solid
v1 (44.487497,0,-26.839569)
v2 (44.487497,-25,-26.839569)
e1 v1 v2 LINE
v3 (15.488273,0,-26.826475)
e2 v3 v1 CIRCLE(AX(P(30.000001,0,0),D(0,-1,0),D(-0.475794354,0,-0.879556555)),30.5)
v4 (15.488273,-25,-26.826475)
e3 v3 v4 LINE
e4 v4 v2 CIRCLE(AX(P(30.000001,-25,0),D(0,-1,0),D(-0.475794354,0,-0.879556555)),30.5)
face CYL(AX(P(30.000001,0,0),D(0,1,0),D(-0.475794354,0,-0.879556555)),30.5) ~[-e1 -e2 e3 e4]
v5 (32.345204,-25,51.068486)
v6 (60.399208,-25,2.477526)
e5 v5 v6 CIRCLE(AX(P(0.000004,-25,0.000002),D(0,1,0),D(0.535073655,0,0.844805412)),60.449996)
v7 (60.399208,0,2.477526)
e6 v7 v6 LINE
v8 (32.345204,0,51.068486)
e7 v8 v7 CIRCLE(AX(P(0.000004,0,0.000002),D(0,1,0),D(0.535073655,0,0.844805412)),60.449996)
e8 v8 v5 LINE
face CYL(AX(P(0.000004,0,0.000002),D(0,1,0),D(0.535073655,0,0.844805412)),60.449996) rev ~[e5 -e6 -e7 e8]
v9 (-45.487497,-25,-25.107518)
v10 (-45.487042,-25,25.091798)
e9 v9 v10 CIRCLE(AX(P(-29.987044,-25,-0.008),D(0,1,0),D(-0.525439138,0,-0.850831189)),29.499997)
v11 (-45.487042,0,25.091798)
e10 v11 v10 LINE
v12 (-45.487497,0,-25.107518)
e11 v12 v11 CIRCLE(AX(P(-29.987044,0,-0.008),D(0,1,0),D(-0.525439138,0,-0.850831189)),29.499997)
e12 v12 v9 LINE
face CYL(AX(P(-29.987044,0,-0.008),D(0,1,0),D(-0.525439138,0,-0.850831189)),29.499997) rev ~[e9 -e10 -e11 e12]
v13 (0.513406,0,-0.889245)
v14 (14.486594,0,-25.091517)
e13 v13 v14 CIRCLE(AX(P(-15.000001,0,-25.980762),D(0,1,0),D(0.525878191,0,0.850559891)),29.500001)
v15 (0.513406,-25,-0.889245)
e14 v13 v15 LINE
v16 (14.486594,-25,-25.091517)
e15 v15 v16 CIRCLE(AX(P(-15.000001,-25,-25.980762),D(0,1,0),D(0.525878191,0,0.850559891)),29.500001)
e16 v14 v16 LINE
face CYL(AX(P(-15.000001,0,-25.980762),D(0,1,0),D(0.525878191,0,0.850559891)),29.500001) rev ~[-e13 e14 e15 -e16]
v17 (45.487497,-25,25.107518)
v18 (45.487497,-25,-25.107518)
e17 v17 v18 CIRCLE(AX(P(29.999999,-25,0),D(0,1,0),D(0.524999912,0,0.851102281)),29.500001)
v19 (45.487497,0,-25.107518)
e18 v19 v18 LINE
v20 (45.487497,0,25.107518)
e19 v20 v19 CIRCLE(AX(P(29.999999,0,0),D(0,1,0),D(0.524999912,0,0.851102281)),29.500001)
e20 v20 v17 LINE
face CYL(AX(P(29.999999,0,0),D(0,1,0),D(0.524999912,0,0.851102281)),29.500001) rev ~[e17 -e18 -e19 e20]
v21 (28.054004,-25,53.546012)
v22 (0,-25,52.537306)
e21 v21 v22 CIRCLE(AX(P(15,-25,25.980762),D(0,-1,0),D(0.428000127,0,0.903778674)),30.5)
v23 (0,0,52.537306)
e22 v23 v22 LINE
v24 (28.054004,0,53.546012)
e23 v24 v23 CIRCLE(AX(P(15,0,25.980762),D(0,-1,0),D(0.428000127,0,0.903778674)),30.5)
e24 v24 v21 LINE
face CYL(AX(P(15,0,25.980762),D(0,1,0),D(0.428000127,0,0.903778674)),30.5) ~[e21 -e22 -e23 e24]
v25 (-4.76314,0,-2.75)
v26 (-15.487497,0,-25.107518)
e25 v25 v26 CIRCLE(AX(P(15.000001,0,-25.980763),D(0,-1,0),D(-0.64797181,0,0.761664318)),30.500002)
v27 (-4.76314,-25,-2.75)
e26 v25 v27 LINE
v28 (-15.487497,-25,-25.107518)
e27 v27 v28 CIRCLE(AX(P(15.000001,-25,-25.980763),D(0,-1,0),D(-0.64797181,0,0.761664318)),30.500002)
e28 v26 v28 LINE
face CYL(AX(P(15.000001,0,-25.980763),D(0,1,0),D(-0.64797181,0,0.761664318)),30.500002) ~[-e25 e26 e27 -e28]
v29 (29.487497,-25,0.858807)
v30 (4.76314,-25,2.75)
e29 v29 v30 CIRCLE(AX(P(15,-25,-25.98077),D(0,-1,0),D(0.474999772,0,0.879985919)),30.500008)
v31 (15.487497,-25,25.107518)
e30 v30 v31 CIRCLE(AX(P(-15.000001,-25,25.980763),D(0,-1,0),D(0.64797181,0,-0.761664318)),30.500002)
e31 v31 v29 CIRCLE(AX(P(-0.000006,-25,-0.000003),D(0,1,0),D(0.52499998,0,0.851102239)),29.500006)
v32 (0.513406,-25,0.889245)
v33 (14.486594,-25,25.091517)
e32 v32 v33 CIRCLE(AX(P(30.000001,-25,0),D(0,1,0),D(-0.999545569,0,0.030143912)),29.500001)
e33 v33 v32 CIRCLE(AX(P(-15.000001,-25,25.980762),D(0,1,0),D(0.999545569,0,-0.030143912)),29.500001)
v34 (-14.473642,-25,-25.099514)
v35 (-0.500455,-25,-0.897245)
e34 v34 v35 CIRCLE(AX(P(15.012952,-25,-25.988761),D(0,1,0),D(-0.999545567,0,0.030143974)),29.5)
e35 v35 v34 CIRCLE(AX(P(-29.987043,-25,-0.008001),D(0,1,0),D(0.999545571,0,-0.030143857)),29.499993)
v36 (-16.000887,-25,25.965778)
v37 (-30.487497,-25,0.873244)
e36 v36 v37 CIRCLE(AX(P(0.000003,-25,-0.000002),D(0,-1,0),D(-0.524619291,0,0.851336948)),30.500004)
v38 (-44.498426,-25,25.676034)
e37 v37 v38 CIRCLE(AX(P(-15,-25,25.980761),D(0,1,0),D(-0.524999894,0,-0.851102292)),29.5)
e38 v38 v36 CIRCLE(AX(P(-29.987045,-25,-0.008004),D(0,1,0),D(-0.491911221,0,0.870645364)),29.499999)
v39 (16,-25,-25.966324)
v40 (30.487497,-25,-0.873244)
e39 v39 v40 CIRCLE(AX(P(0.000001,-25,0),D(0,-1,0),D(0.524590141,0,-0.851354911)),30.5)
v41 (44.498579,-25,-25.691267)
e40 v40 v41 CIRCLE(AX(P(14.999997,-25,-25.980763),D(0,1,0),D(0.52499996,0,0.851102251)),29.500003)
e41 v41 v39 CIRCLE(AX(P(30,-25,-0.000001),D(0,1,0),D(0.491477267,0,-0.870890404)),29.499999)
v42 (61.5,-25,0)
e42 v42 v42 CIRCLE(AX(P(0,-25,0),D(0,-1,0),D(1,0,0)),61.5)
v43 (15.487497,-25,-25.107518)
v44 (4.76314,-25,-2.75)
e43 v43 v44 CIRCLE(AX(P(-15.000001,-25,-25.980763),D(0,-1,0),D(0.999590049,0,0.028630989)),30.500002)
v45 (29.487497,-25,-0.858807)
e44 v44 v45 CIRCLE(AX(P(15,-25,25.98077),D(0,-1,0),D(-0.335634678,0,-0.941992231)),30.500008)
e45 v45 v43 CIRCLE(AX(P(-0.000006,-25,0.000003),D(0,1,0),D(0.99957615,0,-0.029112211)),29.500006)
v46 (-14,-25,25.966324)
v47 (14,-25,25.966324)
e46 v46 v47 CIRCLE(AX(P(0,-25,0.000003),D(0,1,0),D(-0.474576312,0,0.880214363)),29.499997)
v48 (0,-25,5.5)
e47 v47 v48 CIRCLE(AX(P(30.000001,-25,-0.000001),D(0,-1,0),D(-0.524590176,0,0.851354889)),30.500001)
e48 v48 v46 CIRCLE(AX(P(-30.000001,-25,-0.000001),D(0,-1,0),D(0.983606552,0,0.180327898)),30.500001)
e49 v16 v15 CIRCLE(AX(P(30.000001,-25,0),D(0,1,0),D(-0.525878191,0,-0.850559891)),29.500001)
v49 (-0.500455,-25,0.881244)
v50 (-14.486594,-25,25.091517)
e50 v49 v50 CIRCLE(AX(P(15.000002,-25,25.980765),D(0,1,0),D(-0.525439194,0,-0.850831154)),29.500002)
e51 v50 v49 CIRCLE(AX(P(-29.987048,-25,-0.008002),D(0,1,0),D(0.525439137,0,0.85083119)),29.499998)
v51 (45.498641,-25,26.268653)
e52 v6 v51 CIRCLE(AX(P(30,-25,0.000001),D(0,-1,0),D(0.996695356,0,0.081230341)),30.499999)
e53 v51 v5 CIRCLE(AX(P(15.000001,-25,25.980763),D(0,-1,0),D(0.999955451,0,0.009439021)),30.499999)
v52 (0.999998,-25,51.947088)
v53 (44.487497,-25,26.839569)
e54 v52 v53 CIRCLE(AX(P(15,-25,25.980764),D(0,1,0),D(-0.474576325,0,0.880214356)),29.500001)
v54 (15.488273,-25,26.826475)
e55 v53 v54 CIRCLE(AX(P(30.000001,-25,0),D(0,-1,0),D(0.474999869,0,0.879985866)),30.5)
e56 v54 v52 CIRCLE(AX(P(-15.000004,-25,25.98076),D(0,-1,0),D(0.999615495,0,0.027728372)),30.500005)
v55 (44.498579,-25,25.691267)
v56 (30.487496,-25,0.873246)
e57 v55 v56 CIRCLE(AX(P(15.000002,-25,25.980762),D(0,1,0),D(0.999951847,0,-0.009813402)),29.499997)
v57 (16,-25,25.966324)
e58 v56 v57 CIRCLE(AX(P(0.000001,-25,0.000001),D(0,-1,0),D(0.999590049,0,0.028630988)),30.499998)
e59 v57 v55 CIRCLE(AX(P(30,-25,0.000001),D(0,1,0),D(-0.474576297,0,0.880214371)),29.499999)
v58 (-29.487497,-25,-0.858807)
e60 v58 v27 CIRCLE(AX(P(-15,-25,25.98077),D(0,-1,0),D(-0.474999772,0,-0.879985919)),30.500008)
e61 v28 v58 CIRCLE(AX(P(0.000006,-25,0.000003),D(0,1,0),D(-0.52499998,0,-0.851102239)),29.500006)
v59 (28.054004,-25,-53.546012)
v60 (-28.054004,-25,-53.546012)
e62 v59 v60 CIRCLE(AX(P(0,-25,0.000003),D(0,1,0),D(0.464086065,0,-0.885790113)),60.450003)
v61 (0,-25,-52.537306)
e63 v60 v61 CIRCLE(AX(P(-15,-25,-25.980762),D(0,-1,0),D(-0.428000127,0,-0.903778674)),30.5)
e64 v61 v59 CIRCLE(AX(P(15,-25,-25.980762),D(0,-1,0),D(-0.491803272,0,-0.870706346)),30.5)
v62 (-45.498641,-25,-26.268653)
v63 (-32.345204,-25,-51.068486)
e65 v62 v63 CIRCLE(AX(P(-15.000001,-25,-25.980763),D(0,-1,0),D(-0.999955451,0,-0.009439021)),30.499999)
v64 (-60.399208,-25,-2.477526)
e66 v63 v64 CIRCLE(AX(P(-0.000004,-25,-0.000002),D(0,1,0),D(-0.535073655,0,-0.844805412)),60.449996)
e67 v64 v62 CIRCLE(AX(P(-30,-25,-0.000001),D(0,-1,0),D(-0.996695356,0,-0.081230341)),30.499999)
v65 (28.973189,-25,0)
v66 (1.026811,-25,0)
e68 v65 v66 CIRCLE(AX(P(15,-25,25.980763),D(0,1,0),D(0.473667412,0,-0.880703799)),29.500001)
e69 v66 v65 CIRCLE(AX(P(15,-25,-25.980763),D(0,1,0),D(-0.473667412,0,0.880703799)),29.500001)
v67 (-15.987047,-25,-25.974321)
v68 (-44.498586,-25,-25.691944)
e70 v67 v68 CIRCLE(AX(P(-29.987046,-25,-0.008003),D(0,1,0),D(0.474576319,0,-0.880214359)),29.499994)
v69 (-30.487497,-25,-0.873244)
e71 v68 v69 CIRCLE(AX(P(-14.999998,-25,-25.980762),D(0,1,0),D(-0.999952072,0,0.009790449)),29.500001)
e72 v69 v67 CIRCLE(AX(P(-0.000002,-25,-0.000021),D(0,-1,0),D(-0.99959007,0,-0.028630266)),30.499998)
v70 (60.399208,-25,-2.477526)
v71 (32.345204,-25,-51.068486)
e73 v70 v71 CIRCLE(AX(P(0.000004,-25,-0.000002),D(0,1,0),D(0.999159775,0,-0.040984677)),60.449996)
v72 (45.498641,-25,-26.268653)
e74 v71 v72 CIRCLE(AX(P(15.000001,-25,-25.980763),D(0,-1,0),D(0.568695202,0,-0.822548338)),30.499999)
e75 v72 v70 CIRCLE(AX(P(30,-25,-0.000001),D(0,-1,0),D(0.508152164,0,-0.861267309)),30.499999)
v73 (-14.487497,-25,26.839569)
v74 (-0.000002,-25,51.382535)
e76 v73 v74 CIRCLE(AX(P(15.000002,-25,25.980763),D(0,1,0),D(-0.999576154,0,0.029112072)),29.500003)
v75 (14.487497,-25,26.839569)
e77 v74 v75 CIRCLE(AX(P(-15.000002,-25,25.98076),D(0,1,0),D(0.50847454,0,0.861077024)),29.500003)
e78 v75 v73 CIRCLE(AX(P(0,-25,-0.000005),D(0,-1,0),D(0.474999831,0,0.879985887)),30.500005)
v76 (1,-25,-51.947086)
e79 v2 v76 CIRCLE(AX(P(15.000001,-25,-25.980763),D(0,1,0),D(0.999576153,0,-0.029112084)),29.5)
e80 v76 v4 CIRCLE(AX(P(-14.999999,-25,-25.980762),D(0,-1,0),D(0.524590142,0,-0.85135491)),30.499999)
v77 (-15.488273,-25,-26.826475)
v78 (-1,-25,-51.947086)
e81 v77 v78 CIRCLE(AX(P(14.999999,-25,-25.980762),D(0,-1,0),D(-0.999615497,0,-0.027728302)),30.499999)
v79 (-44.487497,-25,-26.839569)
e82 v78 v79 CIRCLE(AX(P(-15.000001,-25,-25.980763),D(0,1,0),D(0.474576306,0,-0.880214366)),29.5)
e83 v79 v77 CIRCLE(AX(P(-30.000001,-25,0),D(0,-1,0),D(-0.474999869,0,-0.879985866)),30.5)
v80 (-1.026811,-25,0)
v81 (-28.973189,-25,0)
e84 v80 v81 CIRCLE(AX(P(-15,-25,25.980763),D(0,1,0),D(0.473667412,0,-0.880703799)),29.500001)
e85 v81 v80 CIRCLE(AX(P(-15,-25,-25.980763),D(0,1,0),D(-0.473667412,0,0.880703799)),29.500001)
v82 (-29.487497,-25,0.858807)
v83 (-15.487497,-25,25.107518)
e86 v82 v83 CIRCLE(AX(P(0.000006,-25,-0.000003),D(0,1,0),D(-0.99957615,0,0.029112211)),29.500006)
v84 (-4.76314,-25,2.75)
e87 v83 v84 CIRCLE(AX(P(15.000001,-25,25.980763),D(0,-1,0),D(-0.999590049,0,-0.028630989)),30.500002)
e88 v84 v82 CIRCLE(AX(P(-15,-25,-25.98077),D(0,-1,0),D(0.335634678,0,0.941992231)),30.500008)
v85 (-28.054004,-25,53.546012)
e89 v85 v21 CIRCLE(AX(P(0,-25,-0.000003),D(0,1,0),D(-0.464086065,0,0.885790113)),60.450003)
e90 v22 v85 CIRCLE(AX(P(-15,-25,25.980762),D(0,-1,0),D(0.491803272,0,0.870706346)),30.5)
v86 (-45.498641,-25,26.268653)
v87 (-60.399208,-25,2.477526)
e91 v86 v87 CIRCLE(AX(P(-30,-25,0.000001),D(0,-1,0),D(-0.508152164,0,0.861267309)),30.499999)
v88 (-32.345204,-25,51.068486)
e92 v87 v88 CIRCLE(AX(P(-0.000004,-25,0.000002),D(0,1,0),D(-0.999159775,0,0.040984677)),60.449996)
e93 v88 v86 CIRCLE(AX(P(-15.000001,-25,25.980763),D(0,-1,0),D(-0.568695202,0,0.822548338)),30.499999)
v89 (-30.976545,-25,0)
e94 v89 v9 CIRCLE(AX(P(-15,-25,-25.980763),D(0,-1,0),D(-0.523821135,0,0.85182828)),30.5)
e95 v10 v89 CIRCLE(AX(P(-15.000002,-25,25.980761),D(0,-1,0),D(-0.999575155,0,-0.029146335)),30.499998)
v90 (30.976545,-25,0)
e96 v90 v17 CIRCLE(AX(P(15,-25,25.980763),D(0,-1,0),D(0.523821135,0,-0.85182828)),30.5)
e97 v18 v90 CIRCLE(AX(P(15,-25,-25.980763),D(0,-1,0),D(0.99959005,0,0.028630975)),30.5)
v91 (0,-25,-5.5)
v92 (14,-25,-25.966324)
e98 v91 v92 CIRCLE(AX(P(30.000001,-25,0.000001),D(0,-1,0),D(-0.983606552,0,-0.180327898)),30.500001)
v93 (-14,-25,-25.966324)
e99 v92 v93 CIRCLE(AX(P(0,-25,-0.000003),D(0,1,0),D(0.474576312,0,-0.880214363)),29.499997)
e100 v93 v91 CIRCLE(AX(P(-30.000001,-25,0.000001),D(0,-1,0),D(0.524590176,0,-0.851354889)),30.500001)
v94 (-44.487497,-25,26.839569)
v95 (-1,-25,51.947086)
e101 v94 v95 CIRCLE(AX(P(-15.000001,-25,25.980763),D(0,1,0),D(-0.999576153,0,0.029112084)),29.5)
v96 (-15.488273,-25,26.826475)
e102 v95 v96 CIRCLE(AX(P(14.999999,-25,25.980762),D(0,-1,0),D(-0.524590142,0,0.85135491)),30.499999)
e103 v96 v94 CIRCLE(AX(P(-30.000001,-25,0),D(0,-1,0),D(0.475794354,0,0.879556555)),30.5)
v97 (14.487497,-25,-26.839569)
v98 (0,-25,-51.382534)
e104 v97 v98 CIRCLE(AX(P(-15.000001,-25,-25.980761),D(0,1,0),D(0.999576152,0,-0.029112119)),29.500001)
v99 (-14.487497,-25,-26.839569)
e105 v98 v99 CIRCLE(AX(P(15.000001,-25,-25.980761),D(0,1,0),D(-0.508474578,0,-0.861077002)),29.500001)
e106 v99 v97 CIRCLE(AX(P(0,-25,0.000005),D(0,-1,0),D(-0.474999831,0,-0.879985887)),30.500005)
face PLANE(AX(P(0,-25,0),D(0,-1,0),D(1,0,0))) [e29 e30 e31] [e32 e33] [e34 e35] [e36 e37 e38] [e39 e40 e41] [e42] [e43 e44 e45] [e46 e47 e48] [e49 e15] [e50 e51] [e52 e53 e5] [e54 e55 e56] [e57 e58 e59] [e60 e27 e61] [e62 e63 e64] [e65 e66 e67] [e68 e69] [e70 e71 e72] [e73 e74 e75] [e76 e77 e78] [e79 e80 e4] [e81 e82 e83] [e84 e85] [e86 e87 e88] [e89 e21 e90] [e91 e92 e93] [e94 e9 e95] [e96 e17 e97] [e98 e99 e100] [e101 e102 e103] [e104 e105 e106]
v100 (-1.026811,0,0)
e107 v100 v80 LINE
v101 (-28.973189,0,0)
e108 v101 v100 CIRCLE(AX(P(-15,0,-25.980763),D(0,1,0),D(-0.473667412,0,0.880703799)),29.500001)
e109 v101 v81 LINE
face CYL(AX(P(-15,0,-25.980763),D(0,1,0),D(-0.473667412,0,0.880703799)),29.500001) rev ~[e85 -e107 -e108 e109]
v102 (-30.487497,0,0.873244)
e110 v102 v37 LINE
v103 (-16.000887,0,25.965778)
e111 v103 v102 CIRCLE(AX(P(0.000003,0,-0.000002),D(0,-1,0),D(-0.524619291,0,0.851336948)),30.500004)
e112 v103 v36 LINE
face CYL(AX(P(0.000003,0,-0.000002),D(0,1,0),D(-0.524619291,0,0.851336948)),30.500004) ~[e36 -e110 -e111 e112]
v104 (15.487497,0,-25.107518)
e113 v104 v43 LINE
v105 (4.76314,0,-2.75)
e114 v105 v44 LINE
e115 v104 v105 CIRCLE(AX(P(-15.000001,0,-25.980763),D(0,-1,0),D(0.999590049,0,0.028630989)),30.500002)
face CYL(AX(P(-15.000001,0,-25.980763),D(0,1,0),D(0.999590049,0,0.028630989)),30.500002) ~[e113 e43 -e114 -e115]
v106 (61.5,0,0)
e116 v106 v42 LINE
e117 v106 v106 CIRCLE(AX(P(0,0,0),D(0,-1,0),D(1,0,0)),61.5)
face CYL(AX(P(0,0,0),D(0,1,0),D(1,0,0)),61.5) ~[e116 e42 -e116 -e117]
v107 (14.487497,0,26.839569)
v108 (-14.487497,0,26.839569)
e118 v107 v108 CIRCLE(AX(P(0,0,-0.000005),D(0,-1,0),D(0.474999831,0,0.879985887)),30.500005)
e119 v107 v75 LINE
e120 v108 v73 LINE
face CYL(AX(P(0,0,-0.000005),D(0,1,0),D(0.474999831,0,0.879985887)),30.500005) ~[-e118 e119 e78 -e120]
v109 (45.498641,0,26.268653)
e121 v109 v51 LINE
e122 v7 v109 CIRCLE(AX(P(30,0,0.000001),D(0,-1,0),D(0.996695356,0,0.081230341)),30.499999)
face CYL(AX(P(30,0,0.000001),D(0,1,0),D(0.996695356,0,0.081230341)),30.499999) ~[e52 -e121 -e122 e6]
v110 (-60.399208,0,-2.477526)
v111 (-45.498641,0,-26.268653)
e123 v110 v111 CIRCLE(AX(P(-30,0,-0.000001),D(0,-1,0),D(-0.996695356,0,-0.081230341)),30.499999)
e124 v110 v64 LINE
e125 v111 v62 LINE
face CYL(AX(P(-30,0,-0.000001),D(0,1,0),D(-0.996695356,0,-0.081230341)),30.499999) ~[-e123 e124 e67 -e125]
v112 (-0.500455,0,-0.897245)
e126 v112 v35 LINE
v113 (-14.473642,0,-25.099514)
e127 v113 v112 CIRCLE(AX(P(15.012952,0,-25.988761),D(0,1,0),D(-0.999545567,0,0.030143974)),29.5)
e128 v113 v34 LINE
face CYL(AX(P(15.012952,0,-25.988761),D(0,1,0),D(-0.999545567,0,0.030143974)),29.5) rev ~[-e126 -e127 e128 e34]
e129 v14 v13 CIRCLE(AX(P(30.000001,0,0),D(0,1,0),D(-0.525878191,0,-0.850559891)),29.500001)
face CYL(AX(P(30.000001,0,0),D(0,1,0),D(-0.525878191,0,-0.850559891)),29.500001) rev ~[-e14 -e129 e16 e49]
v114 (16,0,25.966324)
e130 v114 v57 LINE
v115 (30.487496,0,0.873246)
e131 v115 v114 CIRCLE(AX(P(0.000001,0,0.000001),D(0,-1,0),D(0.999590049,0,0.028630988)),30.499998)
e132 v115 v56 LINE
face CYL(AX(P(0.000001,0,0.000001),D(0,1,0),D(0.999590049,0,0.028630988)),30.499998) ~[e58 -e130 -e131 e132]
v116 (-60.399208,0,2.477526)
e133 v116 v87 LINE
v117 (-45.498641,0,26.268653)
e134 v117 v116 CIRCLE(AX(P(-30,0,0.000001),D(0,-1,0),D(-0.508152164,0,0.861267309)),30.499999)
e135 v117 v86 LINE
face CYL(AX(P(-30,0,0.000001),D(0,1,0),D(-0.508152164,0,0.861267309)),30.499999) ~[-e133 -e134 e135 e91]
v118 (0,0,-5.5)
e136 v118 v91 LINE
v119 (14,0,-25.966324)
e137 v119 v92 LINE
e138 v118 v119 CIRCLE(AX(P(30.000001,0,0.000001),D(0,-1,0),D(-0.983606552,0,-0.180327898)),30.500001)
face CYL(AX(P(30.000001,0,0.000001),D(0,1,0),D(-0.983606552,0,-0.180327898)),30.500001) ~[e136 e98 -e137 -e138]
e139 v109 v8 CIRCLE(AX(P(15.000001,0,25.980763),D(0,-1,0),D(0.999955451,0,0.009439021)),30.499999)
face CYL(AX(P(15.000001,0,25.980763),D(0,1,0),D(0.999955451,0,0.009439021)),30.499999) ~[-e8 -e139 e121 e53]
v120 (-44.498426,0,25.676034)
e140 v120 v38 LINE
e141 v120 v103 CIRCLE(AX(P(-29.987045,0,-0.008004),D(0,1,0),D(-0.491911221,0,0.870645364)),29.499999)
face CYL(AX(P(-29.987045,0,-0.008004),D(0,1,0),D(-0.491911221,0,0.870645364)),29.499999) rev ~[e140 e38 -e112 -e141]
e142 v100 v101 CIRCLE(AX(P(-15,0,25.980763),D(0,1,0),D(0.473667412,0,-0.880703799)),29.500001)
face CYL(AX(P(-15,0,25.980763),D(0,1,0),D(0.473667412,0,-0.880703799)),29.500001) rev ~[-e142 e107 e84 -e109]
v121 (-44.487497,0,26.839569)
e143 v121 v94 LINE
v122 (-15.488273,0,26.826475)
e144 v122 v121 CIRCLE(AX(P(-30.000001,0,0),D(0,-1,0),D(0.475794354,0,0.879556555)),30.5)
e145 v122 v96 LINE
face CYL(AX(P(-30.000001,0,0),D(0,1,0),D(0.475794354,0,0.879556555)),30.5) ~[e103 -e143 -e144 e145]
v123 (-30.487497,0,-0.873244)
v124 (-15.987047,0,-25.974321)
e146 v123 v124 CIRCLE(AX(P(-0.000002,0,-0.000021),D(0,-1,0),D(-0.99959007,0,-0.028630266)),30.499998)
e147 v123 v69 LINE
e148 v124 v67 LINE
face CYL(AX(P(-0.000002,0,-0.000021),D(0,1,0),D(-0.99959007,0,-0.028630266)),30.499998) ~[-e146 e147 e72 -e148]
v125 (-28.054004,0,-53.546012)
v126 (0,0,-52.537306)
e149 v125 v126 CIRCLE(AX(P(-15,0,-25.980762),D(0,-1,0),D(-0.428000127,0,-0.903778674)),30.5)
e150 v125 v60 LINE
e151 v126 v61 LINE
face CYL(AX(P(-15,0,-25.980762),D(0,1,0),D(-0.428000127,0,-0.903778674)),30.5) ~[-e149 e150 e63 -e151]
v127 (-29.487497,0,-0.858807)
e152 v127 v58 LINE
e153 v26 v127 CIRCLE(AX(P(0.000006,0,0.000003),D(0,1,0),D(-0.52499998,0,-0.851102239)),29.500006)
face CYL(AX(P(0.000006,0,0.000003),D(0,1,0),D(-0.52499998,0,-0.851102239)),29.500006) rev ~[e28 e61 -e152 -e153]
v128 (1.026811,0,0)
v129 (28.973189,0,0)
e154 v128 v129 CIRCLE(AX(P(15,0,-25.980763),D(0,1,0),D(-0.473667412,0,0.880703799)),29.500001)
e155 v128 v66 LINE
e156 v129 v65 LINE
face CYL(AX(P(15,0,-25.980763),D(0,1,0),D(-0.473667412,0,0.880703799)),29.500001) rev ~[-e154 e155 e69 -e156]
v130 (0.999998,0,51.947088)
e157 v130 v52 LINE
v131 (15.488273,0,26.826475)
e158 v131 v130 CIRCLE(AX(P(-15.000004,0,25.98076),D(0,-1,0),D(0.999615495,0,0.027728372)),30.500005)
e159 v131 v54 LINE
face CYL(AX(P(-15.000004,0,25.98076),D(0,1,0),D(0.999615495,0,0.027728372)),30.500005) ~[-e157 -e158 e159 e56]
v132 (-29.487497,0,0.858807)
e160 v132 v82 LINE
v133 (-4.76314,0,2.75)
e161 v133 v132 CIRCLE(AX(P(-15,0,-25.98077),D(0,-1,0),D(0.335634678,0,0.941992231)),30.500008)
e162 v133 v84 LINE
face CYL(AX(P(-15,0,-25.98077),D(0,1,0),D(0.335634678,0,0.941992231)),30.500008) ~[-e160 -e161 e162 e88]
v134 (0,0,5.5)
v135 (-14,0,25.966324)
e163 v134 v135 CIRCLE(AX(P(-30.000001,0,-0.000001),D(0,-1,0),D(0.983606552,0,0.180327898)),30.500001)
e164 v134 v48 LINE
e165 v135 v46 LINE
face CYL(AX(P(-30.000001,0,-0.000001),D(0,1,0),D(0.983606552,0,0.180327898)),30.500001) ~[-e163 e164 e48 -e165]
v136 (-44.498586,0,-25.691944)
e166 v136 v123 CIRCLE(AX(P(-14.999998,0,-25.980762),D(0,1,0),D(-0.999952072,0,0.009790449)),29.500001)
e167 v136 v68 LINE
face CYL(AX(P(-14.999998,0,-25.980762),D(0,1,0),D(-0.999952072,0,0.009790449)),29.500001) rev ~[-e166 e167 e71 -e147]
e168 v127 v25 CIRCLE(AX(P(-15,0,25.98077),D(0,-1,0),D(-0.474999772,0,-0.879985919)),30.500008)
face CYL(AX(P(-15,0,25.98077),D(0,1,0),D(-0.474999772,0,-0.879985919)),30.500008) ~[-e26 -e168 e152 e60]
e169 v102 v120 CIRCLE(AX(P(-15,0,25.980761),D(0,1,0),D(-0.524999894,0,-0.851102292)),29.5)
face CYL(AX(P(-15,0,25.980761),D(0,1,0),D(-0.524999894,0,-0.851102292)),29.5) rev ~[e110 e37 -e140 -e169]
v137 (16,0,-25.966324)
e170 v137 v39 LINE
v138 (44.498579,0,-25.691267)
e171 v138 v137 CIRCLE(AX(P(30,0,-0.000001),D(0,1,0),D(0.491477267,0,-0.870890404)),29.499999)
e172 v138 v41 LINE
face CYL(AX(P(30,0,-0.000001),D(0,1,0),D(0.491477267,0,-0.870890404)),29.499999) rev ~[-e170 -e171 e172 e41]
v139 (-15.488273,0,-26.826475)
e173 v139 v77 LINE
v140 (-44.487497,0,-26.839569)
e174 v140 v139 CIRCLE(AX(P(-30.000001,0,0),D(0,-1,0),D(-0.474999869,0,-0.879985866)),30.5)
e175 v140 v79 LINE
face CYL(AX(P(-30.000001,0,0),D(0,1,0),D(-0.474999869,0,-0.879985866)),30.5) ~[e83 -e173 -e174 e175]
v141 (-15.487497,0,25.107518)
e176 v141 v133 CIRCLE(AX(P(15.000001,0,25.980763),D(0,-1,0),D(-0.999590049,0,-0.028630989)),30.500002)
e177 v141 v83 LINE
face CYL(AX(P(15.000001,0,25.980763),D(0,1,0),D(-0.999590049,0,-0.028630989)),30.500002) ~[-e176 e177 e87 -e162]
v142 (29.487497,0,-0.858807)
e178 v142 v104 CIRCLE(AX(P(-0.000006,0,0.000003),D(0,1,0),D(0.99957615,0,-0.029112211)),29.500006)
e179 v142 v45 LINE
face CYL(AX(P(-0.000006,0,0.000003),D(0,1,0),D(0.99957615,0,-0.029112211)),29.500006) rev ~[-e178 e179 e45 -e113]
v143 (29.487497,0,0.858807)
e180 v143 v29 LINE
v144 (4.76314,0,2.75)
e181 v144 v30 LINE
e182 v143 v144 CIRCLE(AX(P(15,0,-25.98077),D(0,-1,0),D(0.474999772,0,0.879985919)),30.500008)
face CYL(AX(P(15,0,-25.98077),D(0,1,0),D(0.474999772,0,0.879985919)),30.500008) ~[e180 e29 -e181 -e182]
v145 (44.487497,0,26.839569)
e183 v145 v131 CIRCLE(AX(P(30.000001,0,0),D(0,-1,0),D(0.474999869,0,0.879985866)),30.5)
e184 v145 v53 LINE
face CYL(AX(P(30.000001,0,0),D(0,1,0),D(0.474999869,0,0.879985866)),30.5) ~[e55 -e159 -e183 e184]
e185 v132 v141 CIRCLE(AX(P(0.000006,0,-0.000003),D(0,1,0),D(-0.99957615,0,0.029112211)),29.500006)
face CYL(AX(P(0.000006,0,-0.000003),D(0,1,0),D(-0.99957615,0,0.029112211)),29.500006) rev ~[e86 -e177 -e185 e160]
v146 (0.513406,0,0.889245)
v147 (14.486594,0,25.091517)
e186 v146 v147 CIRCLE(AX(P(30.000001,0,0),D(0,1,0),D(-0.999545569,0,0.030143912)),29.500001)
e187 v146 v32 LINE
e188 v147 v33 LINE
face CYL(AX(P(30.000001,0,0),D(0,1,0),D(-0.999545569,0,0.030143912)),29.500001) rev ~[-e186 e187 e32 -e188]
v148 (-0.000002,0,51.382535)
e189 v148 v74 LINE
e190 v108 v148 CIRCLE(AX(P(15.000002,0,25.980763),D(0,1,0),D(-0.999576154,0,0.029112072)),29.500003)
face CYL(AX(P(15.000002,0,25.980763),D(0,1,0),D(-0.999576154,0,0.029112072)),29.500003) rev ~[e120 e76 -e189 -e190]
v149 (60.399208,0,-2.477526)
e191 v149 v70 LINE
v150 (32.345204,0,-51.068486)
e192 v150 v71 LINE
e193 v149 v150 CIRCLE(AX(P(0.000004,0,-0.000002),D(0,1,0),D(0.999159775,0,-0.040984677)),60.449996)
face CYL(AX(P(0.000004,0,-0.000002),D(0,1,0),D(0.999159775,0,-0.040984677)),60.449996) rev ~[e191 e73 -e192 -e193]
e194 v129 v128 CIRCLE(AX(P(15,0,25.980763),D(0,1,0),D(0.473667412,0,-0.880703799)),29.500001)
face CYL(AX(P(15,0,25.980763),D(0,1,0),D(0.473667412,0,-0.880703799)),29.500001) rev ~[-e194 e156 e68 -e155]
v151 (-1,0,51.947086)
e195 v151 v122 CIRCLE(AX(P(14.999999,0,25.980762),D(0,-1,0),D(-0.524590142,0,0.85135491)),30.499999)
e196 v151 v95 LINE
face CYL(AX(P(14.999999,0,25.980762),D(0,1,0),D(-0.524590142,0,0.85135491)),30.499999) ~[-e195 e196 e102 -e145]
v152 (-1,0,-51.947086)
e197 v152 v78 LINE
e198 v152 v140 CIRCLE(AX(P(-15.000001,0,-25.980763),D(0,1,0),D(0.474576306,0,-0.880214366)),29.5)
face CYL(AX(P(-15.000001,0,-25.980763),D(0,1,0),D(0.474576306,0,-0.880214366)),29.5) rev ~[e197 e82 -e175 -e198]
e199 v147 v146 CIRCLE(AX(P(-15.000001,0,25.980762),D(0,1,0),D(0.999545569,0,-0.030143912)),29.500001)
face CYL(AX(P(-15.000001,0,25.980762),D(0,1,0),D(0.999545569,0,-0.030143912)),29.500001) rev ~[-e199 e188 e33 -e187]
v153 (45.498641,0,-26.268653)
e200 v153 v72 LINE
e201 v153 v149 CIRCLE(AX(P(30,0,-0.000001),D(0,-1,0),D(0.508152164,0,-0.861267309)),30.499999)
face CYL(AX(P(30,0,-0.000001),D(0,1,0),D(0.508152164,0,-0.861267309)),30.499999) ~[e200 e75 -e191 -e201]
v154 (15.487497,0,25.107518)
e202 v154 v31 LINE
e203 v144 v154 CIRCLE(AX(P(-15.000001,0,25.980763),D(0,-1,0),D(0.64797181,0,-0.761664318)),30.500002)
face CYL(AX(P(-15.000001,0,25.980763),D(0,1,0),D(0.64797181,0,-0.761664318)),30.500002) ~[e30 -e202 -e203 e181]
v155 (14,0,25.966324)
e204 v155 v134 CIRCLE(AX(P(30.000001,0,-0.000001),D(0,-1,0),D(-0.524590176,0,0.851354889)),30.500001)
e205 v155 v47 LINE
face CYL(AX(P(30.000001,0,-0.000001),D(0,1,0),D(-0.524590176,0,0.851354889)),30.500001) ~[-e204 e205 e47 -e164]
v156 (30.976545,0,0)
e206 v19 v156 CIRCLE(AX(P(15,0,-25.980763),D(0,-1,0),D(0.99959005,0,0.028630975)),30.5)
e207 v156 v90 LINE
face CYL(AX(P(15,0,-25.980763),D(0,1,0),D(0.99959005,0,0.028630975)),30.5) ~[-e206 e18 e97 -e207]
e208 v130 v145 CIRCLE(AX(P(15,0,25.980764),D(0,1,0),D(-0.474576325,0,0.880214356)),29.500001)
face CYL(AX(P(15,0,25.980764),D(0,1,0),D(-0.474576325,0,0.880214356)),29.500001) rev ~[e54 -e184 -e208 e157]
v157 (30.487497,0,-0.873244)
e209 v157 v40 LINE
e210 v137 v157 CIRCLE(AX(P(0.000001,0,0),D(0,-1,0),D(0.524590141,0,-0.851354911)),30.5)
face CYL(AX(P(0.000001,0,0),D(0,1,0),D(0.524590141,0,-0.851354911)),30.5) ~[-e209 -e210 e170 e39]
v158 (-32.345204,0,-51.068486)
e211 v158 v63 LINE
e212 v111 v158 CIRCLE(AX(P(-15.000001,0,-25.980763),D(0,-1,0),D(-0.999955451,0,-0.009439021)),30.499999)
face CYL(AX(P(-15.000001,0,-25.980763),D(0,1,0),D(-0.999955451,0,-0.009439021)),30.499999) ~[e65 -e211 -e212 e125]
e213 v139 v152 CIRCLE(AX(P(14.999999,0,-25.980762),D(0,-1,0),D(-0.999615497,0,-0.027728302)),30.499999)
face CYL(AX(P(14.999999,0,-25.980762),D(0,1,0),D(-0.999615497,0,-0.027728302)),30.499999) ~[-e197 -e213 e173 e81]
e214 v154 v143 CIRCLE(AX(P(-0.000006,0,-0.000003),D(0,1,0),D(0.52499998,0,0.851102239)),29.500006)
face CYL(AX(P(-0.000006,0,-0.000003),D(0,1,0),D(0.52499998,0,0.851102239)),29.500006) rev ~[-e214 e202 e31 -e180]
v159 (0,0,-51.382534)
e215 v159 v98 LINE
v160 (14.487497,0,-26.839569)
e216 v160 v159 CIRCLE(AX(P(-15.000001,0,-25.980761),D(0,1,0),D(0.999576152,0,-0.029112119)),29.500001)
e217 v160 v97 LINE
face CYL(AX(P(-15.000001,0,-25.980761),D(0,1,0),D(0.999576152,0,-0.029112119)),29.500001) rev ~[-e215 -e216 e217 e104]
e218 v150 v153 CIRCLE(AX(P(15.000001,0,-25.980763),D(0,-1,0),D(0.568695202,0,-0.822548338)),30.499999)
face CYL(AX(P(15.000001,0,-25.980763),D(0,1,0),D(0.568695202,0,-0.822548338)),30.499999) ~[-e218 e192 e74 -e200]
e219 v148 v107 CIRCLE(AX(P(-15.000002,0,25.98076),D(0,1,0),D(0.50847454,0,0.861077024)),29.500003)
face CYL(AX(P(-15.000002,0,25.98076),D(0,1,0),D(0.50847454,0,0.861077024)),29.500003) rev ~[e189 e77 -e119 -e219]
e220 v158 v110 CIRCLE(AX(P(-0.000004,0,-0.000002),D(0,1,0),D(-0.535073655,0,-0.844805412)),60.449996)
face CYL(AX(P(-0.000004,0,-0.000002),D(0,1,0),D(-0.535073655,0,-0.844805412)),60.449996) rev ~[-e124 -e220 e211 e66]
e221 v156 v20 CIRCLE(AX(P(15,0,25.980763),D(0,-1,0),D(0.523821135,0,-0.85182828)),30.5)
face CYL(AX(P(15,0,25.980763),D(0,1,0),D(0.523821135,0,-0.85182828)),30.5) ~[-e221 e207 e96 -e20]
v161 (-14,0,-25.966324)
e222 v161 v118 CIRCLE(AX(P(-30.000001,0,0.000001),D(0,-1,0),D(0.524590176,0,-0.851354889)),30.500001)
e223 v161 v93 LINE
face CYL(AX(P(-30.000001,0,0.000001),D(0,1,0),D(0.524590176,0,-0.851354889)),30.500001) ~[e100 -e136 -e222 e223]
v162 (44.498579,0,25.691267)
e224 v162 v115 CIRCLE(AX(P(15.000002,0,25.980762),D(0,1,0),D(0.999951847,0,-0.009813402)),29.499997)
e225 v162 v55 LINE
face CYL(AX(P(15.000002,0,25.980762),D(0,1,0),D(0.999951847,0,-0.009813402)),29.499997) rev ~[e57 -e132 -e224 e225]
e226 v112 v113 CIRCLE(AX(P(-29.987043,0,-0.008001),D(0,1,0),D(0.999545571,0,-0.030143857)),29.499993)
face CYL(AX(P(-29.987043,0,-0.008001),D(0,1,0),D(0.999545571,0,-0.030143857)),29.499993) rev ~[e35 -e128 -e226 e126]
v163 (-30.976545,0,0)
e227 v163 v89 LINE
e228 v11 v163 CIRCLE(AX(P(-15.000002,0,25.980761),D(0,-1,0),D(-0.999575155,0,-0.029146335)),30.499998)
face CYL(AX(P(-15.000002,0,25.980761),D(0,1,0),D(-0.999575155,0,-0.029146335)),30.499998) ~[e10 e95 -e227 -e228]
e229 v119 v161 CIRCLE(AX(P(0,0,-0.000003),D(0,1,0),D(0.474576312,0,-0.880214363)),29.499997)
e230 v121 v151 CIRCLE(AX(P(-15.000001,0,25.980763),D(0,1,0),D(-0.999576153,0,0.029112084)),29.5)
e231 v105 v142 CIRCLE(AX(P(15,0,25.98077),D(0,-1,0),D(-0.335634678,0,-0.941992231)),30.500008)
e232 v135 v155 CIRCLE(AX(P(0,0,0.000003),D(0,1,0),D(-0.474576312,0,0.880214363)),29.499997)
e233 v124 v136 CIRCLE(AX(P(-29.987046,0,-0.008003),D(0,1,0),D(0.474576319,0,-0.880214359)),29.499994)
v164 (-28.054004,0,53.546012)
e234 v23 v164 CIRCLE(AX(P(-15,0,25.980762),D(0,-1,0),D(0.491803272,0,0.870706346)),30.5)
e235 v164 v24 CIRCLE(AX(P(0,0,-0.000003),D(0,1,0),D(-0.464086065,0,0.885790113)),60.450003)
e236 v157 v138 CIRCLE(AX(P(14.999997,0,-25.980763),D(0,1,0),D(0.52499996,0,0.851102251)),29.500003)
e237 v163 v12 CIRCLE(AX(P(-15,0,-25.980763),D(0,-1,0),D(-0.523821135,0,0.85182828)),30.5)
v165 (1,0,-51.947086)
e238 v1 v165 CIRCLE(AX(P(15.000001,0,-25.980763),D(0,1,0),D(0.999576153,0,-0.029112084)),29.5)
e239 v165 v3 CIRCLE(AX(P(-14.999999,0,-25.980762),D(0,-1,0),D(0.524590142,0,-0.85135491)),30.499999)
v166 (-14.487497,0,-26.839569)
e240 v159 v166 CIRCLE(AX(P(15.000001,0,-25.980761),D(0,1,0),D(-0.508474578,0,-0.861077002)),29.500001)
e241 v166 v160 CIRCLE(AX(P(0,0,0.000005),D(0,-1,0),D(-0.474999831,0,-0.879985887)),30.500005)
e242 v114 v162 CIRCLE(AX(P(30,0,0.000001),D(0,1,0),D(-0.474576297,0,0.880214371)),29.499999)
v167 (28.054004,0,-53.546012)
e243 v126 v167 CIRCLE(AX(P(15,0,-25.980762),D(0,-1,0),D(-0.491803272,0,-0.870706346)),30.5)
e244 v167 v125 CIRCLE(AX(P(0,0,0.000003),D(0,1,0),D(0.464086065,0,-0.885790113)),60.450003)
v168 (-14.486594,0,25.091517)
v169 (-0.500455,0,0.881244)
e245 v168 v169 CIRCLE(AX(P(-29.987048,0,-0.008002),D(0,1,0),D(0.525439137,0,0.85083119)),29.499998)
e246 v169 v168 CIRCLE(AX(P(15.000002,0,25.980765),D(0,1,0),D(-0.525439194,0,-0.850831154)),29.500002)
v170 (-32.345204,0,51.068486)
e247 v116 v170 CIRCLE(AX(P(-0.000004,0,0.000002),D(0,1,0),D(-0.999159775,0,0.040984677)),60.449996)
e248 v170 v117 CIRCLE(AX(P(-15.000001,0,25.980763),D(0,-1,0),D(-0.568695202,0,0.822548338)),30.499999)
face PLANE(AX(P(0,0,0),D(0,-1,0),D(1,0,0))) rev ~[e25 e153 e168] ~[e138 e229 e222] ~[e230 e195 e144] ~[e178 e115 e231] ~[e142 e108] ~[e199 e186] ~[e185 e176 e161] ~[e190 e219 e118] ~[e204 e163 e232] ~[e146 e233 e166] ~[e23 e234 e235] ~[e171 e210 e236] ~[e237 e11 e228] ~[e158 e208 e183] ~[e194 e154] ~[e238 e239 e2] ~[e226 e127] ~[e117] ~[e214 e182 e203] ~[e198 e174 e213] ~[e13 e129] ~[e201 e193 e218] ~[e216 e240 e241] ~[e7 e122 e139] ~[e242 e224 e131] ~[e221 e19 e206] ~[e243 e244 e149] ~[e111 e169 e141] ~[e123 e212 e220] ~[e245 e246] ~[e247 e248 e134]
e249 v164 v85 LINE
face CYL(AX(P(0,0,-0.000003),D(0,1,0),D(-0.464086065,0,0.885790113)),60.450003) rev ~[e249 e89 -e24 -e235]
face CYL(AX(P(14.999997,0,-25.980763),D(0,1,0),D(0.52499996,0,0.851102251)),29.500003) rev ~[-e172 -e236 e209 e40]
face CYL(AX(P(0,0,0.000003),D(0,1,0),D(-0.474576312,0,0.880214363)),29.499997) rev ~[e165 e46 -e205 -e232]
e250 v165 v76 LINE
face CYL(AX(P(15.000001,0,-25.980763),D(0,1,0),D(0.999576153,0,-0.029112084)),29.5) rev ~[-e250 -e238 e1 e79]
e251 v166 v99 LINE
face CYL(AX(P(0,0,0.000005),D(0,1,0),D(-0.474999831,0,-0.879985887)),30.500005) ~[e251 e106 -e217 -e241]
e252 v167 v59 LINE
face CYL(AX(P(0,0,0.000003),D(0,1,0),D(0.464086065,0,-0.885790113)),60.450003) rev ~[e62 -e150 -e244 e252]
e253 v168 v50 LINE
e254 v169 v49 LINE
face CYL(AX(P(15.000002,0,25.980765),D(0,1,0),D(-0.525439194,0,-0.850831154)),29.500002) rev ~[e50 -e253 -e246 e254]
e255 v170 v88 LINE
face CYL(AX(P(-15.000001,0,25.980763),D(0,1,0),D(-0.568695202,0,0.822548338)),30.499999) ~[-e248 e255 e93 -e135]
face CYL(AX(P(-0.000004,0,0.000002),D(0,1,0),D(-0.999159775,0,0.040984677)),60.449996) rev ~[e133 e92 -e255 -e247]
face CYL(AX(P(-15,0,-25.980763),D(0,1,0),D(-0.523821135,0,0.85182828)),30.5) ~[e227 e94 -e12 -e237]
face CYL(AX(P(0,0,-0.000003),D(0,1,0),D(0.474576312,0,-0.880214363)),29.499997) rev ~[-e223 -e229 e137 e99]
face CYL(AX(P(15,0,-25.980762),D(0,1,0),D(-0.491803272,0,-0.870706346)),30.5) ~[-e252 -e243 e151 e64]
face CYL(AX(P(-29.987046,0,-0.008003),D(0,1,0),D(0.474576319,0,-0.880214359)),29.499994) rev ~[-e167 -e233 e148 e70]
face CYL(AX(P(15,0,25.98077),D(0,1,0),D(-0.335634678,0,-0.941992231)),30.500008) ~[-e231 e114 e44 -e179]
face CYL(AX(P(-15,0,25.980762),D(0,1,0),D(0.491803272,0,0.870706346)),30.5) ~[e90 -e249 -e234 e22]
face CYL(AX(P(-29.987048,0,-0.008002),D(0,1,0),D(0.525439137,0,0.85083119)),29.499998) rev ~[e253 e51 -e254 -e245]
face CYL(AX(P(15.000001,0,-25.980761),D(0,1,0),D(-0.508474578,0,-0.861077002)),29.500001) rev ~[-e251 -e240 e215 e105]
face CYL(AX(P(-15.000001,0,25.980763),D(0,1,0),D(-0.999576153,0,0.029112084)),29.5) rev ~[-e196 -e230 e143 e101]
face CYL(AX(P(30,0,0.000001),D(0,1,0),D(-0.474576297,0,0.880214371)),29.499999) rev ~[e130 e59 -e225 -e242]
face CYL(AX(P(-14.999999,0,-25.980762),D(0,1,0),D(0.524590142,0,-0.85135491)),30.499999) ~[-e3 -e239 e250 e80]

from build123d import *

# Parameters (mm, degrees)
F0_R     = 61.5
F1_DEPTH = 25


with BuildPart() as f1:
    # F0 (on Front) → F1 (new body)
    with BuildSketch(Plane.XZ):
        Circle(F0_R)
        with BuildLine():
            ThreePointArc((-28.054004, -53.546012), (-13.904054, -56.461066), (0, -52.537306))
            ThreePointArc((0, -52.537306), (13.904054, -56.461066), (28.054004, -53.546012))
            ThreePointArc((28.054004, -53.546012), (0, -60.45), (-28.054004, -53.546012))
        make_face(mode=Mode.SUBTRACT)
        with BuildLine():
            ThreePointArc((-44.487497, -26.839569), (-29.986229, -30.499997), (-15.488273, -26.826475))
            ThreePointArc((-15.488273, -26.826475), (-11.420658, -41.218834), (-1, -51.947086))
            ThreePointArc((-1, -51.947086), (-29.75, -51.528512), (-44.487497, -26.839569))
        make_face(mode=Mode.SUBTRACT)
        with BuildLine():
            ThreePointArc((0, -51.382534), (-10.404205, -40.976641), (-14.487497, -26.839569))
            ThreePointArc((-14.487497, -26.839569), (0, -30.5), (14.487497, -26.839569))
            ThreePointArc((14.487497, -26.839569), (10.404205, -40.976641), (0, -51.382534))
        make_face(mode=Mode.SUBTRACT)
        with BuildLine():
            ThreePointArc((-60.399208, -2.477526), (-55.848744, -16.189269), (-45.498641, -26.268653))
            ThreePointArc((-45.498641, -26.268653), (-41.94469, -40.271797), (-32.345204, -51.068486))
            ThreePointArc((-32.345204, -51.068486), (-52.351236, -30.225), (-60.399208, -2.477526))
        make_face(mode=Mode.SUBTRACT)
        with BuildLine():
            ThreePointArc((-45.487042, 25.091798), (-41.402951, 10.71203), (-30.976545, 0))
            ThreePointArc((-30.976545, 0), (-41.406887, -10.718838), (-45.487497, -25.107518))
            ThreePointArc((-45.487497, -25.107518), (-59.487041, -0.007733), (-45.487042, 25.091798))
        make_face(mode=Mode.SUBTRACT)
        with BuildLine():
            ThreePointArc((-44.498586, -25.691944), (-40.689081, -11.47831), (-30.487497, -0.873244))
            ThreePointArc((-30.487497, -0.873244), (-26.409976, -15.256598), (-15.987047, -25.974321))
            ThreePointArc((-15.987047, -25.974321), (-30.279198, -29.50655), (-44.498586, -25.691944))
        make_face(mode=Mode.SUBTRACT)
        with BuildLine():
            ThreePointArc((-29.487497, -0.858807), (-17.326184, -4.430401), (-4.76314, -2.75))
            ThreePointArc((-4.76314, -2.75), (-12.499932, -12.789714), (-15.487497, -25.107518))
            ThreePointArc((-15.487497, -25.107518), (-25.547749, -14.75), (-29.487497, -0.858807))
        make_face(mode=Mode.SUBTRACT)
        with BuildLine():
            ThreePointArc((-14.473642, -25.099514), (-10.534797, -11.238761), (-0.500455, -0.897245))
            ThreePointArc((-0.500455, -0.897245), (-4.439299, -14.757998), (-14.473642, -25.099514))
        make_face(mode=Mode.SUBTRACT)
        with BuildLine():
            ThreePointArc((1, -51.947086), (11.420658, -41.218834), (15.488273, -26.826475))
            ThreePointArc((15.488273, -26.826475), (29.986229, -30.499997), (44.487497, -26.839569))
            ThreePointArc((44.487497, -26.839569), (29.75, -51.528512), (1, -51.947086))
        make_face(mode=Mode.SUBTRACT)
        with BuildLine():
            ThreePointArc((-14, -25.966324), (-4.826252, -17.220116), (0, -5.5))
            ThreePointArc((0, -5.5), (4.826252, -17.220116), (14, -25.966324))
            ThreePointArc((14, -25.966324), (0, -29.5), (-14, -25.966324))
        make_face(mode=Mode.SUBTRACT)
        with BuildLine():
            ThreePointArc((14.486594, -25.091517), (4.452251, -14.75), (0.513406, -0.889245))
            ThreePointArc((0.513406, -0.889245), (10.547749, -11.230762), (14.486594, -25.091517))
        make_face(mode=Mode.SUBTRACT)
        with BuildLine():
            ThreePointArc((28.973189, 0), (15, -3.519238), (1.026811, 0))
            ThreePointArc((1.026811, 0), (15, 3.519238), (28.973189, 0))
        make_face(mode=Mode.SUBTRACT)
        with BuildLine():
            ThreePointArc((15.487497, -25.107518), (12.499932, -12.789714), (4.76314, -2.75))
            ThreePointArc((4.76314, -2.75), (17.326184, -4.430401), (29.487497, -0.858807))
            ThreePointArc((29.487497, -0.858807), (25.547749, -14.75), (15.487497, -25.107518))
        make_face(mode=Mode.SUBTRACT)
        with BuildLine():
            ThreePointArc((44.498579, -25.691267), (30.28471, -29.498626), (16, -25.966324))
            ThreePointArc((16, -25.966324), (26.413775, -15.25), (30.487497, -0.873244))
            ThreePointArc((30.487497, -0.873244), (40.688914, -11.478015), (44.498579, -25.691267))
        make_face(mode=Mode.SUBTRACT)
        with BuildLine():
            ThreePointArc((32.345204, -51.068486), (41.94469, -40.271797), (45.498641, -26.268653))
            ThreePointArc((45.498641, -26.268653), (55.848744, -16.189269), (60.399208, -2.477526))
            ThreePointArc((60.399208, -2.477526), (52.351236, -30.225), (32.345204, -51.068486))
        make_face(mode=Mode.SUBTRACT)
        with BuildLine():
            ThreePointArc((-32.345204, 51.068486), (-41.94469, 40.271797), (-45.498641, 26.268653))
            ThreePointArc((-45.498641, 26.268653), (-55.848744, 16.189269), (-60.399208, 2.477526))
            ThreePointArc((-60.399208, 2.477526), (-52.351236, 30.225), (-32.345204, 51.068486))
        make_face(mode=Mode.SUBTRACT)
        with BuildLine():
            ThreePointArc((-44.498426, 25.676034), (-30.286966, 29.490471), (-16.000887, 25.965778))
            ThreePointArc((-16.000887, 25.965778), (-26.414035, 15.249549), (-30.487497, 0.873244))
            ThreePointArc((-30.487497, 0.873244), (-40.685169, 11.471382), (-44.498426, 25.676034))
        make_face(mode=Mode.SUBTRACT)
        with BuildLine():
            ThreePointArc((-15.487497, 25.107518), (-12.499932, 12.789714), (-4.76314, 2.75))
            ThreePointArc((-4.76314, 2.75), (-17.326184, 4.430401), (-29.487497, 0.858807))
            ThreePointArc((-29.487497, 0.858807), (-25.547749, 14.75), (-15.487497, 25.107518))
        make_face(mode=Mode.SUBTRACT)
        with BuildLine():
            ThreePointArc((-28.973189, 0), (-15, 3.519238), (-1.026811, 0))
            ThreePointArc((-1.026811, 0), (-15, -3.519238), (-28.973189, 0))
        make_face(mode=Mode.SUBTRACT)
        with BuildLine():
            ThreePointArc((-14.486594, 25.091517), (-4.443107, 14.74859), (-0.500455, 0.881244))
            ThreePointArc((-0.500455, 0.881244), (-10.543942, 11.224172), (-14.486594, 25.091517))
        make_face(mode=Mode.SUBTRACT)
        with BuildLine():
            ThreePointArc((-1, 51.947086), (-11.420658, 41.218834), (-15.488273, 26.826475))
            ThreePointArc((-15.488273, 26.826475), (-29.986229, 30.499997), (-44.487497, 26.839569))
            ThreePointArc((-44.487497, 26.839569), (-29.75, 51.528512), (-1, 51.947086))
        make_face(mode=Mode.SUBTRACT)
        with BuildLine():
            ThreePointArc((-2e-06, 51.382535), (10.404204, 40.976642), (14.487497, 26.839569))
            ThreePointArc((14.487497, 26.839569), (0, 30.5), (-14.487497, 26.839569))
            ThreePointArc((-14.487497, 26.839569), (-10.404206, 40.976641), (-2e-06, 51.382535))
        make_face(mode=Mode.SUBTRACT)
        with BuildLine():
            ThreePointArc((14.486594, 25.091517), (10.547749, 11.230762), (0.513406, 0.889245))
            ThreePointArc((0.513406, 0.889245), (4.452251, 14.75), (14.486594, 25.091517))
        make_face(mode=Mode.SUBTRACT)
        with BuildLine():
            ThreePointArc((29.487497, 0.858807), (17.326184, 4.430401), (4.76314, 2.75))
            ThreePointArc((4.76314, 2.75), (12.499932, 12.789714), (15.487497, 25.107518))
            ThreePointArc((15.487497, 25.107518), (25.547749, 14.75), (29.487497, 0.858807))
        make_face(mode=Mode.SUBTRACT)
        with BuildLine():
            ThreePointArc((44.498579, 25.691267), (40.688914, 11.478016), (30.487496, 0.873246))
            ThreePointArc((30.487496, 0.873246), (26.413774, 15.250001), (16, 25.966324))
            ThreePointArc((16, 25.966324), (30.28471, 29.498626), (44.498579, 25.691267))
        make_face(mode=Mode.SUBTRACT)
        with BuildLine():
            ThreePointArc((-14, 25.966324), (0, 29.5), (14, 25.966324))
            ThreePointArc((14, 25.966324), (4.826252, 17.220116), (0, 5.5))
            ThreePointArc((0, 5.5), (-4.826252, 17.220116), (-14, 25.966324))
        make_face(mode=Mode.SUBTRACT)
        with BuildLine():
            ThreePointArc((45.487497, -25.107518), (41.406887, -10.718838), (30.976545, 0))
            ThreePointArc((30.976545, 0), (41.406887, 10.718838), (45.487497, 25.107518))
            ThreePointArc((45.487497, 25.107518), (59.5, 0), (45.487497, -25.107518))
        make_face(mode=Mode.SUBTRACT)
        with BuildLine():
            ThreePointArc((60.399208, 2.477526), (55.848744, 16.189269), (45.498641, 26.268653))
            ThreePointArc((45.498641, 26.268653), (41.94469, 40.271797), (32.345204, 51.068486))
            ThreePointArc((32.345204, 51.068486), (52.351236, 30.225), (60.399208, 2.477526))
        make_face(mode=Mode.SUBTRACT)
        with BuildLine():
            ThreePointArc((44.487497, 26.839569), (29.986229, 30.499997), (15.488273, 26.826475))
            ThreePointArc((15.488273, 26.826475), (11.420657, 41.218835), (0.999998, 51.947088))
            ThreePointArc((0.999998, 51.947088), (29.75, 51.528514), (44.487497, 26.839569))
        make_face(mode=Mode.SUBTRACT)
        with BuildLine():
            ThreePointArc((28.054004, 53.546012), (13.904054, 56.461066), (0, 52.537306))
            ThreePointArc((0, 52.537306), (-13.904054, 56.461066), (-28.054004, 53.546012))
            ThreePointArc((-28.054004, 53.546012), (0, 60.45), (28.054004, 53.546012))
        make_face(mode=Mode.SUBTRACT)
    extrude(amount=F1_DEPTH)


solid = f1.part
